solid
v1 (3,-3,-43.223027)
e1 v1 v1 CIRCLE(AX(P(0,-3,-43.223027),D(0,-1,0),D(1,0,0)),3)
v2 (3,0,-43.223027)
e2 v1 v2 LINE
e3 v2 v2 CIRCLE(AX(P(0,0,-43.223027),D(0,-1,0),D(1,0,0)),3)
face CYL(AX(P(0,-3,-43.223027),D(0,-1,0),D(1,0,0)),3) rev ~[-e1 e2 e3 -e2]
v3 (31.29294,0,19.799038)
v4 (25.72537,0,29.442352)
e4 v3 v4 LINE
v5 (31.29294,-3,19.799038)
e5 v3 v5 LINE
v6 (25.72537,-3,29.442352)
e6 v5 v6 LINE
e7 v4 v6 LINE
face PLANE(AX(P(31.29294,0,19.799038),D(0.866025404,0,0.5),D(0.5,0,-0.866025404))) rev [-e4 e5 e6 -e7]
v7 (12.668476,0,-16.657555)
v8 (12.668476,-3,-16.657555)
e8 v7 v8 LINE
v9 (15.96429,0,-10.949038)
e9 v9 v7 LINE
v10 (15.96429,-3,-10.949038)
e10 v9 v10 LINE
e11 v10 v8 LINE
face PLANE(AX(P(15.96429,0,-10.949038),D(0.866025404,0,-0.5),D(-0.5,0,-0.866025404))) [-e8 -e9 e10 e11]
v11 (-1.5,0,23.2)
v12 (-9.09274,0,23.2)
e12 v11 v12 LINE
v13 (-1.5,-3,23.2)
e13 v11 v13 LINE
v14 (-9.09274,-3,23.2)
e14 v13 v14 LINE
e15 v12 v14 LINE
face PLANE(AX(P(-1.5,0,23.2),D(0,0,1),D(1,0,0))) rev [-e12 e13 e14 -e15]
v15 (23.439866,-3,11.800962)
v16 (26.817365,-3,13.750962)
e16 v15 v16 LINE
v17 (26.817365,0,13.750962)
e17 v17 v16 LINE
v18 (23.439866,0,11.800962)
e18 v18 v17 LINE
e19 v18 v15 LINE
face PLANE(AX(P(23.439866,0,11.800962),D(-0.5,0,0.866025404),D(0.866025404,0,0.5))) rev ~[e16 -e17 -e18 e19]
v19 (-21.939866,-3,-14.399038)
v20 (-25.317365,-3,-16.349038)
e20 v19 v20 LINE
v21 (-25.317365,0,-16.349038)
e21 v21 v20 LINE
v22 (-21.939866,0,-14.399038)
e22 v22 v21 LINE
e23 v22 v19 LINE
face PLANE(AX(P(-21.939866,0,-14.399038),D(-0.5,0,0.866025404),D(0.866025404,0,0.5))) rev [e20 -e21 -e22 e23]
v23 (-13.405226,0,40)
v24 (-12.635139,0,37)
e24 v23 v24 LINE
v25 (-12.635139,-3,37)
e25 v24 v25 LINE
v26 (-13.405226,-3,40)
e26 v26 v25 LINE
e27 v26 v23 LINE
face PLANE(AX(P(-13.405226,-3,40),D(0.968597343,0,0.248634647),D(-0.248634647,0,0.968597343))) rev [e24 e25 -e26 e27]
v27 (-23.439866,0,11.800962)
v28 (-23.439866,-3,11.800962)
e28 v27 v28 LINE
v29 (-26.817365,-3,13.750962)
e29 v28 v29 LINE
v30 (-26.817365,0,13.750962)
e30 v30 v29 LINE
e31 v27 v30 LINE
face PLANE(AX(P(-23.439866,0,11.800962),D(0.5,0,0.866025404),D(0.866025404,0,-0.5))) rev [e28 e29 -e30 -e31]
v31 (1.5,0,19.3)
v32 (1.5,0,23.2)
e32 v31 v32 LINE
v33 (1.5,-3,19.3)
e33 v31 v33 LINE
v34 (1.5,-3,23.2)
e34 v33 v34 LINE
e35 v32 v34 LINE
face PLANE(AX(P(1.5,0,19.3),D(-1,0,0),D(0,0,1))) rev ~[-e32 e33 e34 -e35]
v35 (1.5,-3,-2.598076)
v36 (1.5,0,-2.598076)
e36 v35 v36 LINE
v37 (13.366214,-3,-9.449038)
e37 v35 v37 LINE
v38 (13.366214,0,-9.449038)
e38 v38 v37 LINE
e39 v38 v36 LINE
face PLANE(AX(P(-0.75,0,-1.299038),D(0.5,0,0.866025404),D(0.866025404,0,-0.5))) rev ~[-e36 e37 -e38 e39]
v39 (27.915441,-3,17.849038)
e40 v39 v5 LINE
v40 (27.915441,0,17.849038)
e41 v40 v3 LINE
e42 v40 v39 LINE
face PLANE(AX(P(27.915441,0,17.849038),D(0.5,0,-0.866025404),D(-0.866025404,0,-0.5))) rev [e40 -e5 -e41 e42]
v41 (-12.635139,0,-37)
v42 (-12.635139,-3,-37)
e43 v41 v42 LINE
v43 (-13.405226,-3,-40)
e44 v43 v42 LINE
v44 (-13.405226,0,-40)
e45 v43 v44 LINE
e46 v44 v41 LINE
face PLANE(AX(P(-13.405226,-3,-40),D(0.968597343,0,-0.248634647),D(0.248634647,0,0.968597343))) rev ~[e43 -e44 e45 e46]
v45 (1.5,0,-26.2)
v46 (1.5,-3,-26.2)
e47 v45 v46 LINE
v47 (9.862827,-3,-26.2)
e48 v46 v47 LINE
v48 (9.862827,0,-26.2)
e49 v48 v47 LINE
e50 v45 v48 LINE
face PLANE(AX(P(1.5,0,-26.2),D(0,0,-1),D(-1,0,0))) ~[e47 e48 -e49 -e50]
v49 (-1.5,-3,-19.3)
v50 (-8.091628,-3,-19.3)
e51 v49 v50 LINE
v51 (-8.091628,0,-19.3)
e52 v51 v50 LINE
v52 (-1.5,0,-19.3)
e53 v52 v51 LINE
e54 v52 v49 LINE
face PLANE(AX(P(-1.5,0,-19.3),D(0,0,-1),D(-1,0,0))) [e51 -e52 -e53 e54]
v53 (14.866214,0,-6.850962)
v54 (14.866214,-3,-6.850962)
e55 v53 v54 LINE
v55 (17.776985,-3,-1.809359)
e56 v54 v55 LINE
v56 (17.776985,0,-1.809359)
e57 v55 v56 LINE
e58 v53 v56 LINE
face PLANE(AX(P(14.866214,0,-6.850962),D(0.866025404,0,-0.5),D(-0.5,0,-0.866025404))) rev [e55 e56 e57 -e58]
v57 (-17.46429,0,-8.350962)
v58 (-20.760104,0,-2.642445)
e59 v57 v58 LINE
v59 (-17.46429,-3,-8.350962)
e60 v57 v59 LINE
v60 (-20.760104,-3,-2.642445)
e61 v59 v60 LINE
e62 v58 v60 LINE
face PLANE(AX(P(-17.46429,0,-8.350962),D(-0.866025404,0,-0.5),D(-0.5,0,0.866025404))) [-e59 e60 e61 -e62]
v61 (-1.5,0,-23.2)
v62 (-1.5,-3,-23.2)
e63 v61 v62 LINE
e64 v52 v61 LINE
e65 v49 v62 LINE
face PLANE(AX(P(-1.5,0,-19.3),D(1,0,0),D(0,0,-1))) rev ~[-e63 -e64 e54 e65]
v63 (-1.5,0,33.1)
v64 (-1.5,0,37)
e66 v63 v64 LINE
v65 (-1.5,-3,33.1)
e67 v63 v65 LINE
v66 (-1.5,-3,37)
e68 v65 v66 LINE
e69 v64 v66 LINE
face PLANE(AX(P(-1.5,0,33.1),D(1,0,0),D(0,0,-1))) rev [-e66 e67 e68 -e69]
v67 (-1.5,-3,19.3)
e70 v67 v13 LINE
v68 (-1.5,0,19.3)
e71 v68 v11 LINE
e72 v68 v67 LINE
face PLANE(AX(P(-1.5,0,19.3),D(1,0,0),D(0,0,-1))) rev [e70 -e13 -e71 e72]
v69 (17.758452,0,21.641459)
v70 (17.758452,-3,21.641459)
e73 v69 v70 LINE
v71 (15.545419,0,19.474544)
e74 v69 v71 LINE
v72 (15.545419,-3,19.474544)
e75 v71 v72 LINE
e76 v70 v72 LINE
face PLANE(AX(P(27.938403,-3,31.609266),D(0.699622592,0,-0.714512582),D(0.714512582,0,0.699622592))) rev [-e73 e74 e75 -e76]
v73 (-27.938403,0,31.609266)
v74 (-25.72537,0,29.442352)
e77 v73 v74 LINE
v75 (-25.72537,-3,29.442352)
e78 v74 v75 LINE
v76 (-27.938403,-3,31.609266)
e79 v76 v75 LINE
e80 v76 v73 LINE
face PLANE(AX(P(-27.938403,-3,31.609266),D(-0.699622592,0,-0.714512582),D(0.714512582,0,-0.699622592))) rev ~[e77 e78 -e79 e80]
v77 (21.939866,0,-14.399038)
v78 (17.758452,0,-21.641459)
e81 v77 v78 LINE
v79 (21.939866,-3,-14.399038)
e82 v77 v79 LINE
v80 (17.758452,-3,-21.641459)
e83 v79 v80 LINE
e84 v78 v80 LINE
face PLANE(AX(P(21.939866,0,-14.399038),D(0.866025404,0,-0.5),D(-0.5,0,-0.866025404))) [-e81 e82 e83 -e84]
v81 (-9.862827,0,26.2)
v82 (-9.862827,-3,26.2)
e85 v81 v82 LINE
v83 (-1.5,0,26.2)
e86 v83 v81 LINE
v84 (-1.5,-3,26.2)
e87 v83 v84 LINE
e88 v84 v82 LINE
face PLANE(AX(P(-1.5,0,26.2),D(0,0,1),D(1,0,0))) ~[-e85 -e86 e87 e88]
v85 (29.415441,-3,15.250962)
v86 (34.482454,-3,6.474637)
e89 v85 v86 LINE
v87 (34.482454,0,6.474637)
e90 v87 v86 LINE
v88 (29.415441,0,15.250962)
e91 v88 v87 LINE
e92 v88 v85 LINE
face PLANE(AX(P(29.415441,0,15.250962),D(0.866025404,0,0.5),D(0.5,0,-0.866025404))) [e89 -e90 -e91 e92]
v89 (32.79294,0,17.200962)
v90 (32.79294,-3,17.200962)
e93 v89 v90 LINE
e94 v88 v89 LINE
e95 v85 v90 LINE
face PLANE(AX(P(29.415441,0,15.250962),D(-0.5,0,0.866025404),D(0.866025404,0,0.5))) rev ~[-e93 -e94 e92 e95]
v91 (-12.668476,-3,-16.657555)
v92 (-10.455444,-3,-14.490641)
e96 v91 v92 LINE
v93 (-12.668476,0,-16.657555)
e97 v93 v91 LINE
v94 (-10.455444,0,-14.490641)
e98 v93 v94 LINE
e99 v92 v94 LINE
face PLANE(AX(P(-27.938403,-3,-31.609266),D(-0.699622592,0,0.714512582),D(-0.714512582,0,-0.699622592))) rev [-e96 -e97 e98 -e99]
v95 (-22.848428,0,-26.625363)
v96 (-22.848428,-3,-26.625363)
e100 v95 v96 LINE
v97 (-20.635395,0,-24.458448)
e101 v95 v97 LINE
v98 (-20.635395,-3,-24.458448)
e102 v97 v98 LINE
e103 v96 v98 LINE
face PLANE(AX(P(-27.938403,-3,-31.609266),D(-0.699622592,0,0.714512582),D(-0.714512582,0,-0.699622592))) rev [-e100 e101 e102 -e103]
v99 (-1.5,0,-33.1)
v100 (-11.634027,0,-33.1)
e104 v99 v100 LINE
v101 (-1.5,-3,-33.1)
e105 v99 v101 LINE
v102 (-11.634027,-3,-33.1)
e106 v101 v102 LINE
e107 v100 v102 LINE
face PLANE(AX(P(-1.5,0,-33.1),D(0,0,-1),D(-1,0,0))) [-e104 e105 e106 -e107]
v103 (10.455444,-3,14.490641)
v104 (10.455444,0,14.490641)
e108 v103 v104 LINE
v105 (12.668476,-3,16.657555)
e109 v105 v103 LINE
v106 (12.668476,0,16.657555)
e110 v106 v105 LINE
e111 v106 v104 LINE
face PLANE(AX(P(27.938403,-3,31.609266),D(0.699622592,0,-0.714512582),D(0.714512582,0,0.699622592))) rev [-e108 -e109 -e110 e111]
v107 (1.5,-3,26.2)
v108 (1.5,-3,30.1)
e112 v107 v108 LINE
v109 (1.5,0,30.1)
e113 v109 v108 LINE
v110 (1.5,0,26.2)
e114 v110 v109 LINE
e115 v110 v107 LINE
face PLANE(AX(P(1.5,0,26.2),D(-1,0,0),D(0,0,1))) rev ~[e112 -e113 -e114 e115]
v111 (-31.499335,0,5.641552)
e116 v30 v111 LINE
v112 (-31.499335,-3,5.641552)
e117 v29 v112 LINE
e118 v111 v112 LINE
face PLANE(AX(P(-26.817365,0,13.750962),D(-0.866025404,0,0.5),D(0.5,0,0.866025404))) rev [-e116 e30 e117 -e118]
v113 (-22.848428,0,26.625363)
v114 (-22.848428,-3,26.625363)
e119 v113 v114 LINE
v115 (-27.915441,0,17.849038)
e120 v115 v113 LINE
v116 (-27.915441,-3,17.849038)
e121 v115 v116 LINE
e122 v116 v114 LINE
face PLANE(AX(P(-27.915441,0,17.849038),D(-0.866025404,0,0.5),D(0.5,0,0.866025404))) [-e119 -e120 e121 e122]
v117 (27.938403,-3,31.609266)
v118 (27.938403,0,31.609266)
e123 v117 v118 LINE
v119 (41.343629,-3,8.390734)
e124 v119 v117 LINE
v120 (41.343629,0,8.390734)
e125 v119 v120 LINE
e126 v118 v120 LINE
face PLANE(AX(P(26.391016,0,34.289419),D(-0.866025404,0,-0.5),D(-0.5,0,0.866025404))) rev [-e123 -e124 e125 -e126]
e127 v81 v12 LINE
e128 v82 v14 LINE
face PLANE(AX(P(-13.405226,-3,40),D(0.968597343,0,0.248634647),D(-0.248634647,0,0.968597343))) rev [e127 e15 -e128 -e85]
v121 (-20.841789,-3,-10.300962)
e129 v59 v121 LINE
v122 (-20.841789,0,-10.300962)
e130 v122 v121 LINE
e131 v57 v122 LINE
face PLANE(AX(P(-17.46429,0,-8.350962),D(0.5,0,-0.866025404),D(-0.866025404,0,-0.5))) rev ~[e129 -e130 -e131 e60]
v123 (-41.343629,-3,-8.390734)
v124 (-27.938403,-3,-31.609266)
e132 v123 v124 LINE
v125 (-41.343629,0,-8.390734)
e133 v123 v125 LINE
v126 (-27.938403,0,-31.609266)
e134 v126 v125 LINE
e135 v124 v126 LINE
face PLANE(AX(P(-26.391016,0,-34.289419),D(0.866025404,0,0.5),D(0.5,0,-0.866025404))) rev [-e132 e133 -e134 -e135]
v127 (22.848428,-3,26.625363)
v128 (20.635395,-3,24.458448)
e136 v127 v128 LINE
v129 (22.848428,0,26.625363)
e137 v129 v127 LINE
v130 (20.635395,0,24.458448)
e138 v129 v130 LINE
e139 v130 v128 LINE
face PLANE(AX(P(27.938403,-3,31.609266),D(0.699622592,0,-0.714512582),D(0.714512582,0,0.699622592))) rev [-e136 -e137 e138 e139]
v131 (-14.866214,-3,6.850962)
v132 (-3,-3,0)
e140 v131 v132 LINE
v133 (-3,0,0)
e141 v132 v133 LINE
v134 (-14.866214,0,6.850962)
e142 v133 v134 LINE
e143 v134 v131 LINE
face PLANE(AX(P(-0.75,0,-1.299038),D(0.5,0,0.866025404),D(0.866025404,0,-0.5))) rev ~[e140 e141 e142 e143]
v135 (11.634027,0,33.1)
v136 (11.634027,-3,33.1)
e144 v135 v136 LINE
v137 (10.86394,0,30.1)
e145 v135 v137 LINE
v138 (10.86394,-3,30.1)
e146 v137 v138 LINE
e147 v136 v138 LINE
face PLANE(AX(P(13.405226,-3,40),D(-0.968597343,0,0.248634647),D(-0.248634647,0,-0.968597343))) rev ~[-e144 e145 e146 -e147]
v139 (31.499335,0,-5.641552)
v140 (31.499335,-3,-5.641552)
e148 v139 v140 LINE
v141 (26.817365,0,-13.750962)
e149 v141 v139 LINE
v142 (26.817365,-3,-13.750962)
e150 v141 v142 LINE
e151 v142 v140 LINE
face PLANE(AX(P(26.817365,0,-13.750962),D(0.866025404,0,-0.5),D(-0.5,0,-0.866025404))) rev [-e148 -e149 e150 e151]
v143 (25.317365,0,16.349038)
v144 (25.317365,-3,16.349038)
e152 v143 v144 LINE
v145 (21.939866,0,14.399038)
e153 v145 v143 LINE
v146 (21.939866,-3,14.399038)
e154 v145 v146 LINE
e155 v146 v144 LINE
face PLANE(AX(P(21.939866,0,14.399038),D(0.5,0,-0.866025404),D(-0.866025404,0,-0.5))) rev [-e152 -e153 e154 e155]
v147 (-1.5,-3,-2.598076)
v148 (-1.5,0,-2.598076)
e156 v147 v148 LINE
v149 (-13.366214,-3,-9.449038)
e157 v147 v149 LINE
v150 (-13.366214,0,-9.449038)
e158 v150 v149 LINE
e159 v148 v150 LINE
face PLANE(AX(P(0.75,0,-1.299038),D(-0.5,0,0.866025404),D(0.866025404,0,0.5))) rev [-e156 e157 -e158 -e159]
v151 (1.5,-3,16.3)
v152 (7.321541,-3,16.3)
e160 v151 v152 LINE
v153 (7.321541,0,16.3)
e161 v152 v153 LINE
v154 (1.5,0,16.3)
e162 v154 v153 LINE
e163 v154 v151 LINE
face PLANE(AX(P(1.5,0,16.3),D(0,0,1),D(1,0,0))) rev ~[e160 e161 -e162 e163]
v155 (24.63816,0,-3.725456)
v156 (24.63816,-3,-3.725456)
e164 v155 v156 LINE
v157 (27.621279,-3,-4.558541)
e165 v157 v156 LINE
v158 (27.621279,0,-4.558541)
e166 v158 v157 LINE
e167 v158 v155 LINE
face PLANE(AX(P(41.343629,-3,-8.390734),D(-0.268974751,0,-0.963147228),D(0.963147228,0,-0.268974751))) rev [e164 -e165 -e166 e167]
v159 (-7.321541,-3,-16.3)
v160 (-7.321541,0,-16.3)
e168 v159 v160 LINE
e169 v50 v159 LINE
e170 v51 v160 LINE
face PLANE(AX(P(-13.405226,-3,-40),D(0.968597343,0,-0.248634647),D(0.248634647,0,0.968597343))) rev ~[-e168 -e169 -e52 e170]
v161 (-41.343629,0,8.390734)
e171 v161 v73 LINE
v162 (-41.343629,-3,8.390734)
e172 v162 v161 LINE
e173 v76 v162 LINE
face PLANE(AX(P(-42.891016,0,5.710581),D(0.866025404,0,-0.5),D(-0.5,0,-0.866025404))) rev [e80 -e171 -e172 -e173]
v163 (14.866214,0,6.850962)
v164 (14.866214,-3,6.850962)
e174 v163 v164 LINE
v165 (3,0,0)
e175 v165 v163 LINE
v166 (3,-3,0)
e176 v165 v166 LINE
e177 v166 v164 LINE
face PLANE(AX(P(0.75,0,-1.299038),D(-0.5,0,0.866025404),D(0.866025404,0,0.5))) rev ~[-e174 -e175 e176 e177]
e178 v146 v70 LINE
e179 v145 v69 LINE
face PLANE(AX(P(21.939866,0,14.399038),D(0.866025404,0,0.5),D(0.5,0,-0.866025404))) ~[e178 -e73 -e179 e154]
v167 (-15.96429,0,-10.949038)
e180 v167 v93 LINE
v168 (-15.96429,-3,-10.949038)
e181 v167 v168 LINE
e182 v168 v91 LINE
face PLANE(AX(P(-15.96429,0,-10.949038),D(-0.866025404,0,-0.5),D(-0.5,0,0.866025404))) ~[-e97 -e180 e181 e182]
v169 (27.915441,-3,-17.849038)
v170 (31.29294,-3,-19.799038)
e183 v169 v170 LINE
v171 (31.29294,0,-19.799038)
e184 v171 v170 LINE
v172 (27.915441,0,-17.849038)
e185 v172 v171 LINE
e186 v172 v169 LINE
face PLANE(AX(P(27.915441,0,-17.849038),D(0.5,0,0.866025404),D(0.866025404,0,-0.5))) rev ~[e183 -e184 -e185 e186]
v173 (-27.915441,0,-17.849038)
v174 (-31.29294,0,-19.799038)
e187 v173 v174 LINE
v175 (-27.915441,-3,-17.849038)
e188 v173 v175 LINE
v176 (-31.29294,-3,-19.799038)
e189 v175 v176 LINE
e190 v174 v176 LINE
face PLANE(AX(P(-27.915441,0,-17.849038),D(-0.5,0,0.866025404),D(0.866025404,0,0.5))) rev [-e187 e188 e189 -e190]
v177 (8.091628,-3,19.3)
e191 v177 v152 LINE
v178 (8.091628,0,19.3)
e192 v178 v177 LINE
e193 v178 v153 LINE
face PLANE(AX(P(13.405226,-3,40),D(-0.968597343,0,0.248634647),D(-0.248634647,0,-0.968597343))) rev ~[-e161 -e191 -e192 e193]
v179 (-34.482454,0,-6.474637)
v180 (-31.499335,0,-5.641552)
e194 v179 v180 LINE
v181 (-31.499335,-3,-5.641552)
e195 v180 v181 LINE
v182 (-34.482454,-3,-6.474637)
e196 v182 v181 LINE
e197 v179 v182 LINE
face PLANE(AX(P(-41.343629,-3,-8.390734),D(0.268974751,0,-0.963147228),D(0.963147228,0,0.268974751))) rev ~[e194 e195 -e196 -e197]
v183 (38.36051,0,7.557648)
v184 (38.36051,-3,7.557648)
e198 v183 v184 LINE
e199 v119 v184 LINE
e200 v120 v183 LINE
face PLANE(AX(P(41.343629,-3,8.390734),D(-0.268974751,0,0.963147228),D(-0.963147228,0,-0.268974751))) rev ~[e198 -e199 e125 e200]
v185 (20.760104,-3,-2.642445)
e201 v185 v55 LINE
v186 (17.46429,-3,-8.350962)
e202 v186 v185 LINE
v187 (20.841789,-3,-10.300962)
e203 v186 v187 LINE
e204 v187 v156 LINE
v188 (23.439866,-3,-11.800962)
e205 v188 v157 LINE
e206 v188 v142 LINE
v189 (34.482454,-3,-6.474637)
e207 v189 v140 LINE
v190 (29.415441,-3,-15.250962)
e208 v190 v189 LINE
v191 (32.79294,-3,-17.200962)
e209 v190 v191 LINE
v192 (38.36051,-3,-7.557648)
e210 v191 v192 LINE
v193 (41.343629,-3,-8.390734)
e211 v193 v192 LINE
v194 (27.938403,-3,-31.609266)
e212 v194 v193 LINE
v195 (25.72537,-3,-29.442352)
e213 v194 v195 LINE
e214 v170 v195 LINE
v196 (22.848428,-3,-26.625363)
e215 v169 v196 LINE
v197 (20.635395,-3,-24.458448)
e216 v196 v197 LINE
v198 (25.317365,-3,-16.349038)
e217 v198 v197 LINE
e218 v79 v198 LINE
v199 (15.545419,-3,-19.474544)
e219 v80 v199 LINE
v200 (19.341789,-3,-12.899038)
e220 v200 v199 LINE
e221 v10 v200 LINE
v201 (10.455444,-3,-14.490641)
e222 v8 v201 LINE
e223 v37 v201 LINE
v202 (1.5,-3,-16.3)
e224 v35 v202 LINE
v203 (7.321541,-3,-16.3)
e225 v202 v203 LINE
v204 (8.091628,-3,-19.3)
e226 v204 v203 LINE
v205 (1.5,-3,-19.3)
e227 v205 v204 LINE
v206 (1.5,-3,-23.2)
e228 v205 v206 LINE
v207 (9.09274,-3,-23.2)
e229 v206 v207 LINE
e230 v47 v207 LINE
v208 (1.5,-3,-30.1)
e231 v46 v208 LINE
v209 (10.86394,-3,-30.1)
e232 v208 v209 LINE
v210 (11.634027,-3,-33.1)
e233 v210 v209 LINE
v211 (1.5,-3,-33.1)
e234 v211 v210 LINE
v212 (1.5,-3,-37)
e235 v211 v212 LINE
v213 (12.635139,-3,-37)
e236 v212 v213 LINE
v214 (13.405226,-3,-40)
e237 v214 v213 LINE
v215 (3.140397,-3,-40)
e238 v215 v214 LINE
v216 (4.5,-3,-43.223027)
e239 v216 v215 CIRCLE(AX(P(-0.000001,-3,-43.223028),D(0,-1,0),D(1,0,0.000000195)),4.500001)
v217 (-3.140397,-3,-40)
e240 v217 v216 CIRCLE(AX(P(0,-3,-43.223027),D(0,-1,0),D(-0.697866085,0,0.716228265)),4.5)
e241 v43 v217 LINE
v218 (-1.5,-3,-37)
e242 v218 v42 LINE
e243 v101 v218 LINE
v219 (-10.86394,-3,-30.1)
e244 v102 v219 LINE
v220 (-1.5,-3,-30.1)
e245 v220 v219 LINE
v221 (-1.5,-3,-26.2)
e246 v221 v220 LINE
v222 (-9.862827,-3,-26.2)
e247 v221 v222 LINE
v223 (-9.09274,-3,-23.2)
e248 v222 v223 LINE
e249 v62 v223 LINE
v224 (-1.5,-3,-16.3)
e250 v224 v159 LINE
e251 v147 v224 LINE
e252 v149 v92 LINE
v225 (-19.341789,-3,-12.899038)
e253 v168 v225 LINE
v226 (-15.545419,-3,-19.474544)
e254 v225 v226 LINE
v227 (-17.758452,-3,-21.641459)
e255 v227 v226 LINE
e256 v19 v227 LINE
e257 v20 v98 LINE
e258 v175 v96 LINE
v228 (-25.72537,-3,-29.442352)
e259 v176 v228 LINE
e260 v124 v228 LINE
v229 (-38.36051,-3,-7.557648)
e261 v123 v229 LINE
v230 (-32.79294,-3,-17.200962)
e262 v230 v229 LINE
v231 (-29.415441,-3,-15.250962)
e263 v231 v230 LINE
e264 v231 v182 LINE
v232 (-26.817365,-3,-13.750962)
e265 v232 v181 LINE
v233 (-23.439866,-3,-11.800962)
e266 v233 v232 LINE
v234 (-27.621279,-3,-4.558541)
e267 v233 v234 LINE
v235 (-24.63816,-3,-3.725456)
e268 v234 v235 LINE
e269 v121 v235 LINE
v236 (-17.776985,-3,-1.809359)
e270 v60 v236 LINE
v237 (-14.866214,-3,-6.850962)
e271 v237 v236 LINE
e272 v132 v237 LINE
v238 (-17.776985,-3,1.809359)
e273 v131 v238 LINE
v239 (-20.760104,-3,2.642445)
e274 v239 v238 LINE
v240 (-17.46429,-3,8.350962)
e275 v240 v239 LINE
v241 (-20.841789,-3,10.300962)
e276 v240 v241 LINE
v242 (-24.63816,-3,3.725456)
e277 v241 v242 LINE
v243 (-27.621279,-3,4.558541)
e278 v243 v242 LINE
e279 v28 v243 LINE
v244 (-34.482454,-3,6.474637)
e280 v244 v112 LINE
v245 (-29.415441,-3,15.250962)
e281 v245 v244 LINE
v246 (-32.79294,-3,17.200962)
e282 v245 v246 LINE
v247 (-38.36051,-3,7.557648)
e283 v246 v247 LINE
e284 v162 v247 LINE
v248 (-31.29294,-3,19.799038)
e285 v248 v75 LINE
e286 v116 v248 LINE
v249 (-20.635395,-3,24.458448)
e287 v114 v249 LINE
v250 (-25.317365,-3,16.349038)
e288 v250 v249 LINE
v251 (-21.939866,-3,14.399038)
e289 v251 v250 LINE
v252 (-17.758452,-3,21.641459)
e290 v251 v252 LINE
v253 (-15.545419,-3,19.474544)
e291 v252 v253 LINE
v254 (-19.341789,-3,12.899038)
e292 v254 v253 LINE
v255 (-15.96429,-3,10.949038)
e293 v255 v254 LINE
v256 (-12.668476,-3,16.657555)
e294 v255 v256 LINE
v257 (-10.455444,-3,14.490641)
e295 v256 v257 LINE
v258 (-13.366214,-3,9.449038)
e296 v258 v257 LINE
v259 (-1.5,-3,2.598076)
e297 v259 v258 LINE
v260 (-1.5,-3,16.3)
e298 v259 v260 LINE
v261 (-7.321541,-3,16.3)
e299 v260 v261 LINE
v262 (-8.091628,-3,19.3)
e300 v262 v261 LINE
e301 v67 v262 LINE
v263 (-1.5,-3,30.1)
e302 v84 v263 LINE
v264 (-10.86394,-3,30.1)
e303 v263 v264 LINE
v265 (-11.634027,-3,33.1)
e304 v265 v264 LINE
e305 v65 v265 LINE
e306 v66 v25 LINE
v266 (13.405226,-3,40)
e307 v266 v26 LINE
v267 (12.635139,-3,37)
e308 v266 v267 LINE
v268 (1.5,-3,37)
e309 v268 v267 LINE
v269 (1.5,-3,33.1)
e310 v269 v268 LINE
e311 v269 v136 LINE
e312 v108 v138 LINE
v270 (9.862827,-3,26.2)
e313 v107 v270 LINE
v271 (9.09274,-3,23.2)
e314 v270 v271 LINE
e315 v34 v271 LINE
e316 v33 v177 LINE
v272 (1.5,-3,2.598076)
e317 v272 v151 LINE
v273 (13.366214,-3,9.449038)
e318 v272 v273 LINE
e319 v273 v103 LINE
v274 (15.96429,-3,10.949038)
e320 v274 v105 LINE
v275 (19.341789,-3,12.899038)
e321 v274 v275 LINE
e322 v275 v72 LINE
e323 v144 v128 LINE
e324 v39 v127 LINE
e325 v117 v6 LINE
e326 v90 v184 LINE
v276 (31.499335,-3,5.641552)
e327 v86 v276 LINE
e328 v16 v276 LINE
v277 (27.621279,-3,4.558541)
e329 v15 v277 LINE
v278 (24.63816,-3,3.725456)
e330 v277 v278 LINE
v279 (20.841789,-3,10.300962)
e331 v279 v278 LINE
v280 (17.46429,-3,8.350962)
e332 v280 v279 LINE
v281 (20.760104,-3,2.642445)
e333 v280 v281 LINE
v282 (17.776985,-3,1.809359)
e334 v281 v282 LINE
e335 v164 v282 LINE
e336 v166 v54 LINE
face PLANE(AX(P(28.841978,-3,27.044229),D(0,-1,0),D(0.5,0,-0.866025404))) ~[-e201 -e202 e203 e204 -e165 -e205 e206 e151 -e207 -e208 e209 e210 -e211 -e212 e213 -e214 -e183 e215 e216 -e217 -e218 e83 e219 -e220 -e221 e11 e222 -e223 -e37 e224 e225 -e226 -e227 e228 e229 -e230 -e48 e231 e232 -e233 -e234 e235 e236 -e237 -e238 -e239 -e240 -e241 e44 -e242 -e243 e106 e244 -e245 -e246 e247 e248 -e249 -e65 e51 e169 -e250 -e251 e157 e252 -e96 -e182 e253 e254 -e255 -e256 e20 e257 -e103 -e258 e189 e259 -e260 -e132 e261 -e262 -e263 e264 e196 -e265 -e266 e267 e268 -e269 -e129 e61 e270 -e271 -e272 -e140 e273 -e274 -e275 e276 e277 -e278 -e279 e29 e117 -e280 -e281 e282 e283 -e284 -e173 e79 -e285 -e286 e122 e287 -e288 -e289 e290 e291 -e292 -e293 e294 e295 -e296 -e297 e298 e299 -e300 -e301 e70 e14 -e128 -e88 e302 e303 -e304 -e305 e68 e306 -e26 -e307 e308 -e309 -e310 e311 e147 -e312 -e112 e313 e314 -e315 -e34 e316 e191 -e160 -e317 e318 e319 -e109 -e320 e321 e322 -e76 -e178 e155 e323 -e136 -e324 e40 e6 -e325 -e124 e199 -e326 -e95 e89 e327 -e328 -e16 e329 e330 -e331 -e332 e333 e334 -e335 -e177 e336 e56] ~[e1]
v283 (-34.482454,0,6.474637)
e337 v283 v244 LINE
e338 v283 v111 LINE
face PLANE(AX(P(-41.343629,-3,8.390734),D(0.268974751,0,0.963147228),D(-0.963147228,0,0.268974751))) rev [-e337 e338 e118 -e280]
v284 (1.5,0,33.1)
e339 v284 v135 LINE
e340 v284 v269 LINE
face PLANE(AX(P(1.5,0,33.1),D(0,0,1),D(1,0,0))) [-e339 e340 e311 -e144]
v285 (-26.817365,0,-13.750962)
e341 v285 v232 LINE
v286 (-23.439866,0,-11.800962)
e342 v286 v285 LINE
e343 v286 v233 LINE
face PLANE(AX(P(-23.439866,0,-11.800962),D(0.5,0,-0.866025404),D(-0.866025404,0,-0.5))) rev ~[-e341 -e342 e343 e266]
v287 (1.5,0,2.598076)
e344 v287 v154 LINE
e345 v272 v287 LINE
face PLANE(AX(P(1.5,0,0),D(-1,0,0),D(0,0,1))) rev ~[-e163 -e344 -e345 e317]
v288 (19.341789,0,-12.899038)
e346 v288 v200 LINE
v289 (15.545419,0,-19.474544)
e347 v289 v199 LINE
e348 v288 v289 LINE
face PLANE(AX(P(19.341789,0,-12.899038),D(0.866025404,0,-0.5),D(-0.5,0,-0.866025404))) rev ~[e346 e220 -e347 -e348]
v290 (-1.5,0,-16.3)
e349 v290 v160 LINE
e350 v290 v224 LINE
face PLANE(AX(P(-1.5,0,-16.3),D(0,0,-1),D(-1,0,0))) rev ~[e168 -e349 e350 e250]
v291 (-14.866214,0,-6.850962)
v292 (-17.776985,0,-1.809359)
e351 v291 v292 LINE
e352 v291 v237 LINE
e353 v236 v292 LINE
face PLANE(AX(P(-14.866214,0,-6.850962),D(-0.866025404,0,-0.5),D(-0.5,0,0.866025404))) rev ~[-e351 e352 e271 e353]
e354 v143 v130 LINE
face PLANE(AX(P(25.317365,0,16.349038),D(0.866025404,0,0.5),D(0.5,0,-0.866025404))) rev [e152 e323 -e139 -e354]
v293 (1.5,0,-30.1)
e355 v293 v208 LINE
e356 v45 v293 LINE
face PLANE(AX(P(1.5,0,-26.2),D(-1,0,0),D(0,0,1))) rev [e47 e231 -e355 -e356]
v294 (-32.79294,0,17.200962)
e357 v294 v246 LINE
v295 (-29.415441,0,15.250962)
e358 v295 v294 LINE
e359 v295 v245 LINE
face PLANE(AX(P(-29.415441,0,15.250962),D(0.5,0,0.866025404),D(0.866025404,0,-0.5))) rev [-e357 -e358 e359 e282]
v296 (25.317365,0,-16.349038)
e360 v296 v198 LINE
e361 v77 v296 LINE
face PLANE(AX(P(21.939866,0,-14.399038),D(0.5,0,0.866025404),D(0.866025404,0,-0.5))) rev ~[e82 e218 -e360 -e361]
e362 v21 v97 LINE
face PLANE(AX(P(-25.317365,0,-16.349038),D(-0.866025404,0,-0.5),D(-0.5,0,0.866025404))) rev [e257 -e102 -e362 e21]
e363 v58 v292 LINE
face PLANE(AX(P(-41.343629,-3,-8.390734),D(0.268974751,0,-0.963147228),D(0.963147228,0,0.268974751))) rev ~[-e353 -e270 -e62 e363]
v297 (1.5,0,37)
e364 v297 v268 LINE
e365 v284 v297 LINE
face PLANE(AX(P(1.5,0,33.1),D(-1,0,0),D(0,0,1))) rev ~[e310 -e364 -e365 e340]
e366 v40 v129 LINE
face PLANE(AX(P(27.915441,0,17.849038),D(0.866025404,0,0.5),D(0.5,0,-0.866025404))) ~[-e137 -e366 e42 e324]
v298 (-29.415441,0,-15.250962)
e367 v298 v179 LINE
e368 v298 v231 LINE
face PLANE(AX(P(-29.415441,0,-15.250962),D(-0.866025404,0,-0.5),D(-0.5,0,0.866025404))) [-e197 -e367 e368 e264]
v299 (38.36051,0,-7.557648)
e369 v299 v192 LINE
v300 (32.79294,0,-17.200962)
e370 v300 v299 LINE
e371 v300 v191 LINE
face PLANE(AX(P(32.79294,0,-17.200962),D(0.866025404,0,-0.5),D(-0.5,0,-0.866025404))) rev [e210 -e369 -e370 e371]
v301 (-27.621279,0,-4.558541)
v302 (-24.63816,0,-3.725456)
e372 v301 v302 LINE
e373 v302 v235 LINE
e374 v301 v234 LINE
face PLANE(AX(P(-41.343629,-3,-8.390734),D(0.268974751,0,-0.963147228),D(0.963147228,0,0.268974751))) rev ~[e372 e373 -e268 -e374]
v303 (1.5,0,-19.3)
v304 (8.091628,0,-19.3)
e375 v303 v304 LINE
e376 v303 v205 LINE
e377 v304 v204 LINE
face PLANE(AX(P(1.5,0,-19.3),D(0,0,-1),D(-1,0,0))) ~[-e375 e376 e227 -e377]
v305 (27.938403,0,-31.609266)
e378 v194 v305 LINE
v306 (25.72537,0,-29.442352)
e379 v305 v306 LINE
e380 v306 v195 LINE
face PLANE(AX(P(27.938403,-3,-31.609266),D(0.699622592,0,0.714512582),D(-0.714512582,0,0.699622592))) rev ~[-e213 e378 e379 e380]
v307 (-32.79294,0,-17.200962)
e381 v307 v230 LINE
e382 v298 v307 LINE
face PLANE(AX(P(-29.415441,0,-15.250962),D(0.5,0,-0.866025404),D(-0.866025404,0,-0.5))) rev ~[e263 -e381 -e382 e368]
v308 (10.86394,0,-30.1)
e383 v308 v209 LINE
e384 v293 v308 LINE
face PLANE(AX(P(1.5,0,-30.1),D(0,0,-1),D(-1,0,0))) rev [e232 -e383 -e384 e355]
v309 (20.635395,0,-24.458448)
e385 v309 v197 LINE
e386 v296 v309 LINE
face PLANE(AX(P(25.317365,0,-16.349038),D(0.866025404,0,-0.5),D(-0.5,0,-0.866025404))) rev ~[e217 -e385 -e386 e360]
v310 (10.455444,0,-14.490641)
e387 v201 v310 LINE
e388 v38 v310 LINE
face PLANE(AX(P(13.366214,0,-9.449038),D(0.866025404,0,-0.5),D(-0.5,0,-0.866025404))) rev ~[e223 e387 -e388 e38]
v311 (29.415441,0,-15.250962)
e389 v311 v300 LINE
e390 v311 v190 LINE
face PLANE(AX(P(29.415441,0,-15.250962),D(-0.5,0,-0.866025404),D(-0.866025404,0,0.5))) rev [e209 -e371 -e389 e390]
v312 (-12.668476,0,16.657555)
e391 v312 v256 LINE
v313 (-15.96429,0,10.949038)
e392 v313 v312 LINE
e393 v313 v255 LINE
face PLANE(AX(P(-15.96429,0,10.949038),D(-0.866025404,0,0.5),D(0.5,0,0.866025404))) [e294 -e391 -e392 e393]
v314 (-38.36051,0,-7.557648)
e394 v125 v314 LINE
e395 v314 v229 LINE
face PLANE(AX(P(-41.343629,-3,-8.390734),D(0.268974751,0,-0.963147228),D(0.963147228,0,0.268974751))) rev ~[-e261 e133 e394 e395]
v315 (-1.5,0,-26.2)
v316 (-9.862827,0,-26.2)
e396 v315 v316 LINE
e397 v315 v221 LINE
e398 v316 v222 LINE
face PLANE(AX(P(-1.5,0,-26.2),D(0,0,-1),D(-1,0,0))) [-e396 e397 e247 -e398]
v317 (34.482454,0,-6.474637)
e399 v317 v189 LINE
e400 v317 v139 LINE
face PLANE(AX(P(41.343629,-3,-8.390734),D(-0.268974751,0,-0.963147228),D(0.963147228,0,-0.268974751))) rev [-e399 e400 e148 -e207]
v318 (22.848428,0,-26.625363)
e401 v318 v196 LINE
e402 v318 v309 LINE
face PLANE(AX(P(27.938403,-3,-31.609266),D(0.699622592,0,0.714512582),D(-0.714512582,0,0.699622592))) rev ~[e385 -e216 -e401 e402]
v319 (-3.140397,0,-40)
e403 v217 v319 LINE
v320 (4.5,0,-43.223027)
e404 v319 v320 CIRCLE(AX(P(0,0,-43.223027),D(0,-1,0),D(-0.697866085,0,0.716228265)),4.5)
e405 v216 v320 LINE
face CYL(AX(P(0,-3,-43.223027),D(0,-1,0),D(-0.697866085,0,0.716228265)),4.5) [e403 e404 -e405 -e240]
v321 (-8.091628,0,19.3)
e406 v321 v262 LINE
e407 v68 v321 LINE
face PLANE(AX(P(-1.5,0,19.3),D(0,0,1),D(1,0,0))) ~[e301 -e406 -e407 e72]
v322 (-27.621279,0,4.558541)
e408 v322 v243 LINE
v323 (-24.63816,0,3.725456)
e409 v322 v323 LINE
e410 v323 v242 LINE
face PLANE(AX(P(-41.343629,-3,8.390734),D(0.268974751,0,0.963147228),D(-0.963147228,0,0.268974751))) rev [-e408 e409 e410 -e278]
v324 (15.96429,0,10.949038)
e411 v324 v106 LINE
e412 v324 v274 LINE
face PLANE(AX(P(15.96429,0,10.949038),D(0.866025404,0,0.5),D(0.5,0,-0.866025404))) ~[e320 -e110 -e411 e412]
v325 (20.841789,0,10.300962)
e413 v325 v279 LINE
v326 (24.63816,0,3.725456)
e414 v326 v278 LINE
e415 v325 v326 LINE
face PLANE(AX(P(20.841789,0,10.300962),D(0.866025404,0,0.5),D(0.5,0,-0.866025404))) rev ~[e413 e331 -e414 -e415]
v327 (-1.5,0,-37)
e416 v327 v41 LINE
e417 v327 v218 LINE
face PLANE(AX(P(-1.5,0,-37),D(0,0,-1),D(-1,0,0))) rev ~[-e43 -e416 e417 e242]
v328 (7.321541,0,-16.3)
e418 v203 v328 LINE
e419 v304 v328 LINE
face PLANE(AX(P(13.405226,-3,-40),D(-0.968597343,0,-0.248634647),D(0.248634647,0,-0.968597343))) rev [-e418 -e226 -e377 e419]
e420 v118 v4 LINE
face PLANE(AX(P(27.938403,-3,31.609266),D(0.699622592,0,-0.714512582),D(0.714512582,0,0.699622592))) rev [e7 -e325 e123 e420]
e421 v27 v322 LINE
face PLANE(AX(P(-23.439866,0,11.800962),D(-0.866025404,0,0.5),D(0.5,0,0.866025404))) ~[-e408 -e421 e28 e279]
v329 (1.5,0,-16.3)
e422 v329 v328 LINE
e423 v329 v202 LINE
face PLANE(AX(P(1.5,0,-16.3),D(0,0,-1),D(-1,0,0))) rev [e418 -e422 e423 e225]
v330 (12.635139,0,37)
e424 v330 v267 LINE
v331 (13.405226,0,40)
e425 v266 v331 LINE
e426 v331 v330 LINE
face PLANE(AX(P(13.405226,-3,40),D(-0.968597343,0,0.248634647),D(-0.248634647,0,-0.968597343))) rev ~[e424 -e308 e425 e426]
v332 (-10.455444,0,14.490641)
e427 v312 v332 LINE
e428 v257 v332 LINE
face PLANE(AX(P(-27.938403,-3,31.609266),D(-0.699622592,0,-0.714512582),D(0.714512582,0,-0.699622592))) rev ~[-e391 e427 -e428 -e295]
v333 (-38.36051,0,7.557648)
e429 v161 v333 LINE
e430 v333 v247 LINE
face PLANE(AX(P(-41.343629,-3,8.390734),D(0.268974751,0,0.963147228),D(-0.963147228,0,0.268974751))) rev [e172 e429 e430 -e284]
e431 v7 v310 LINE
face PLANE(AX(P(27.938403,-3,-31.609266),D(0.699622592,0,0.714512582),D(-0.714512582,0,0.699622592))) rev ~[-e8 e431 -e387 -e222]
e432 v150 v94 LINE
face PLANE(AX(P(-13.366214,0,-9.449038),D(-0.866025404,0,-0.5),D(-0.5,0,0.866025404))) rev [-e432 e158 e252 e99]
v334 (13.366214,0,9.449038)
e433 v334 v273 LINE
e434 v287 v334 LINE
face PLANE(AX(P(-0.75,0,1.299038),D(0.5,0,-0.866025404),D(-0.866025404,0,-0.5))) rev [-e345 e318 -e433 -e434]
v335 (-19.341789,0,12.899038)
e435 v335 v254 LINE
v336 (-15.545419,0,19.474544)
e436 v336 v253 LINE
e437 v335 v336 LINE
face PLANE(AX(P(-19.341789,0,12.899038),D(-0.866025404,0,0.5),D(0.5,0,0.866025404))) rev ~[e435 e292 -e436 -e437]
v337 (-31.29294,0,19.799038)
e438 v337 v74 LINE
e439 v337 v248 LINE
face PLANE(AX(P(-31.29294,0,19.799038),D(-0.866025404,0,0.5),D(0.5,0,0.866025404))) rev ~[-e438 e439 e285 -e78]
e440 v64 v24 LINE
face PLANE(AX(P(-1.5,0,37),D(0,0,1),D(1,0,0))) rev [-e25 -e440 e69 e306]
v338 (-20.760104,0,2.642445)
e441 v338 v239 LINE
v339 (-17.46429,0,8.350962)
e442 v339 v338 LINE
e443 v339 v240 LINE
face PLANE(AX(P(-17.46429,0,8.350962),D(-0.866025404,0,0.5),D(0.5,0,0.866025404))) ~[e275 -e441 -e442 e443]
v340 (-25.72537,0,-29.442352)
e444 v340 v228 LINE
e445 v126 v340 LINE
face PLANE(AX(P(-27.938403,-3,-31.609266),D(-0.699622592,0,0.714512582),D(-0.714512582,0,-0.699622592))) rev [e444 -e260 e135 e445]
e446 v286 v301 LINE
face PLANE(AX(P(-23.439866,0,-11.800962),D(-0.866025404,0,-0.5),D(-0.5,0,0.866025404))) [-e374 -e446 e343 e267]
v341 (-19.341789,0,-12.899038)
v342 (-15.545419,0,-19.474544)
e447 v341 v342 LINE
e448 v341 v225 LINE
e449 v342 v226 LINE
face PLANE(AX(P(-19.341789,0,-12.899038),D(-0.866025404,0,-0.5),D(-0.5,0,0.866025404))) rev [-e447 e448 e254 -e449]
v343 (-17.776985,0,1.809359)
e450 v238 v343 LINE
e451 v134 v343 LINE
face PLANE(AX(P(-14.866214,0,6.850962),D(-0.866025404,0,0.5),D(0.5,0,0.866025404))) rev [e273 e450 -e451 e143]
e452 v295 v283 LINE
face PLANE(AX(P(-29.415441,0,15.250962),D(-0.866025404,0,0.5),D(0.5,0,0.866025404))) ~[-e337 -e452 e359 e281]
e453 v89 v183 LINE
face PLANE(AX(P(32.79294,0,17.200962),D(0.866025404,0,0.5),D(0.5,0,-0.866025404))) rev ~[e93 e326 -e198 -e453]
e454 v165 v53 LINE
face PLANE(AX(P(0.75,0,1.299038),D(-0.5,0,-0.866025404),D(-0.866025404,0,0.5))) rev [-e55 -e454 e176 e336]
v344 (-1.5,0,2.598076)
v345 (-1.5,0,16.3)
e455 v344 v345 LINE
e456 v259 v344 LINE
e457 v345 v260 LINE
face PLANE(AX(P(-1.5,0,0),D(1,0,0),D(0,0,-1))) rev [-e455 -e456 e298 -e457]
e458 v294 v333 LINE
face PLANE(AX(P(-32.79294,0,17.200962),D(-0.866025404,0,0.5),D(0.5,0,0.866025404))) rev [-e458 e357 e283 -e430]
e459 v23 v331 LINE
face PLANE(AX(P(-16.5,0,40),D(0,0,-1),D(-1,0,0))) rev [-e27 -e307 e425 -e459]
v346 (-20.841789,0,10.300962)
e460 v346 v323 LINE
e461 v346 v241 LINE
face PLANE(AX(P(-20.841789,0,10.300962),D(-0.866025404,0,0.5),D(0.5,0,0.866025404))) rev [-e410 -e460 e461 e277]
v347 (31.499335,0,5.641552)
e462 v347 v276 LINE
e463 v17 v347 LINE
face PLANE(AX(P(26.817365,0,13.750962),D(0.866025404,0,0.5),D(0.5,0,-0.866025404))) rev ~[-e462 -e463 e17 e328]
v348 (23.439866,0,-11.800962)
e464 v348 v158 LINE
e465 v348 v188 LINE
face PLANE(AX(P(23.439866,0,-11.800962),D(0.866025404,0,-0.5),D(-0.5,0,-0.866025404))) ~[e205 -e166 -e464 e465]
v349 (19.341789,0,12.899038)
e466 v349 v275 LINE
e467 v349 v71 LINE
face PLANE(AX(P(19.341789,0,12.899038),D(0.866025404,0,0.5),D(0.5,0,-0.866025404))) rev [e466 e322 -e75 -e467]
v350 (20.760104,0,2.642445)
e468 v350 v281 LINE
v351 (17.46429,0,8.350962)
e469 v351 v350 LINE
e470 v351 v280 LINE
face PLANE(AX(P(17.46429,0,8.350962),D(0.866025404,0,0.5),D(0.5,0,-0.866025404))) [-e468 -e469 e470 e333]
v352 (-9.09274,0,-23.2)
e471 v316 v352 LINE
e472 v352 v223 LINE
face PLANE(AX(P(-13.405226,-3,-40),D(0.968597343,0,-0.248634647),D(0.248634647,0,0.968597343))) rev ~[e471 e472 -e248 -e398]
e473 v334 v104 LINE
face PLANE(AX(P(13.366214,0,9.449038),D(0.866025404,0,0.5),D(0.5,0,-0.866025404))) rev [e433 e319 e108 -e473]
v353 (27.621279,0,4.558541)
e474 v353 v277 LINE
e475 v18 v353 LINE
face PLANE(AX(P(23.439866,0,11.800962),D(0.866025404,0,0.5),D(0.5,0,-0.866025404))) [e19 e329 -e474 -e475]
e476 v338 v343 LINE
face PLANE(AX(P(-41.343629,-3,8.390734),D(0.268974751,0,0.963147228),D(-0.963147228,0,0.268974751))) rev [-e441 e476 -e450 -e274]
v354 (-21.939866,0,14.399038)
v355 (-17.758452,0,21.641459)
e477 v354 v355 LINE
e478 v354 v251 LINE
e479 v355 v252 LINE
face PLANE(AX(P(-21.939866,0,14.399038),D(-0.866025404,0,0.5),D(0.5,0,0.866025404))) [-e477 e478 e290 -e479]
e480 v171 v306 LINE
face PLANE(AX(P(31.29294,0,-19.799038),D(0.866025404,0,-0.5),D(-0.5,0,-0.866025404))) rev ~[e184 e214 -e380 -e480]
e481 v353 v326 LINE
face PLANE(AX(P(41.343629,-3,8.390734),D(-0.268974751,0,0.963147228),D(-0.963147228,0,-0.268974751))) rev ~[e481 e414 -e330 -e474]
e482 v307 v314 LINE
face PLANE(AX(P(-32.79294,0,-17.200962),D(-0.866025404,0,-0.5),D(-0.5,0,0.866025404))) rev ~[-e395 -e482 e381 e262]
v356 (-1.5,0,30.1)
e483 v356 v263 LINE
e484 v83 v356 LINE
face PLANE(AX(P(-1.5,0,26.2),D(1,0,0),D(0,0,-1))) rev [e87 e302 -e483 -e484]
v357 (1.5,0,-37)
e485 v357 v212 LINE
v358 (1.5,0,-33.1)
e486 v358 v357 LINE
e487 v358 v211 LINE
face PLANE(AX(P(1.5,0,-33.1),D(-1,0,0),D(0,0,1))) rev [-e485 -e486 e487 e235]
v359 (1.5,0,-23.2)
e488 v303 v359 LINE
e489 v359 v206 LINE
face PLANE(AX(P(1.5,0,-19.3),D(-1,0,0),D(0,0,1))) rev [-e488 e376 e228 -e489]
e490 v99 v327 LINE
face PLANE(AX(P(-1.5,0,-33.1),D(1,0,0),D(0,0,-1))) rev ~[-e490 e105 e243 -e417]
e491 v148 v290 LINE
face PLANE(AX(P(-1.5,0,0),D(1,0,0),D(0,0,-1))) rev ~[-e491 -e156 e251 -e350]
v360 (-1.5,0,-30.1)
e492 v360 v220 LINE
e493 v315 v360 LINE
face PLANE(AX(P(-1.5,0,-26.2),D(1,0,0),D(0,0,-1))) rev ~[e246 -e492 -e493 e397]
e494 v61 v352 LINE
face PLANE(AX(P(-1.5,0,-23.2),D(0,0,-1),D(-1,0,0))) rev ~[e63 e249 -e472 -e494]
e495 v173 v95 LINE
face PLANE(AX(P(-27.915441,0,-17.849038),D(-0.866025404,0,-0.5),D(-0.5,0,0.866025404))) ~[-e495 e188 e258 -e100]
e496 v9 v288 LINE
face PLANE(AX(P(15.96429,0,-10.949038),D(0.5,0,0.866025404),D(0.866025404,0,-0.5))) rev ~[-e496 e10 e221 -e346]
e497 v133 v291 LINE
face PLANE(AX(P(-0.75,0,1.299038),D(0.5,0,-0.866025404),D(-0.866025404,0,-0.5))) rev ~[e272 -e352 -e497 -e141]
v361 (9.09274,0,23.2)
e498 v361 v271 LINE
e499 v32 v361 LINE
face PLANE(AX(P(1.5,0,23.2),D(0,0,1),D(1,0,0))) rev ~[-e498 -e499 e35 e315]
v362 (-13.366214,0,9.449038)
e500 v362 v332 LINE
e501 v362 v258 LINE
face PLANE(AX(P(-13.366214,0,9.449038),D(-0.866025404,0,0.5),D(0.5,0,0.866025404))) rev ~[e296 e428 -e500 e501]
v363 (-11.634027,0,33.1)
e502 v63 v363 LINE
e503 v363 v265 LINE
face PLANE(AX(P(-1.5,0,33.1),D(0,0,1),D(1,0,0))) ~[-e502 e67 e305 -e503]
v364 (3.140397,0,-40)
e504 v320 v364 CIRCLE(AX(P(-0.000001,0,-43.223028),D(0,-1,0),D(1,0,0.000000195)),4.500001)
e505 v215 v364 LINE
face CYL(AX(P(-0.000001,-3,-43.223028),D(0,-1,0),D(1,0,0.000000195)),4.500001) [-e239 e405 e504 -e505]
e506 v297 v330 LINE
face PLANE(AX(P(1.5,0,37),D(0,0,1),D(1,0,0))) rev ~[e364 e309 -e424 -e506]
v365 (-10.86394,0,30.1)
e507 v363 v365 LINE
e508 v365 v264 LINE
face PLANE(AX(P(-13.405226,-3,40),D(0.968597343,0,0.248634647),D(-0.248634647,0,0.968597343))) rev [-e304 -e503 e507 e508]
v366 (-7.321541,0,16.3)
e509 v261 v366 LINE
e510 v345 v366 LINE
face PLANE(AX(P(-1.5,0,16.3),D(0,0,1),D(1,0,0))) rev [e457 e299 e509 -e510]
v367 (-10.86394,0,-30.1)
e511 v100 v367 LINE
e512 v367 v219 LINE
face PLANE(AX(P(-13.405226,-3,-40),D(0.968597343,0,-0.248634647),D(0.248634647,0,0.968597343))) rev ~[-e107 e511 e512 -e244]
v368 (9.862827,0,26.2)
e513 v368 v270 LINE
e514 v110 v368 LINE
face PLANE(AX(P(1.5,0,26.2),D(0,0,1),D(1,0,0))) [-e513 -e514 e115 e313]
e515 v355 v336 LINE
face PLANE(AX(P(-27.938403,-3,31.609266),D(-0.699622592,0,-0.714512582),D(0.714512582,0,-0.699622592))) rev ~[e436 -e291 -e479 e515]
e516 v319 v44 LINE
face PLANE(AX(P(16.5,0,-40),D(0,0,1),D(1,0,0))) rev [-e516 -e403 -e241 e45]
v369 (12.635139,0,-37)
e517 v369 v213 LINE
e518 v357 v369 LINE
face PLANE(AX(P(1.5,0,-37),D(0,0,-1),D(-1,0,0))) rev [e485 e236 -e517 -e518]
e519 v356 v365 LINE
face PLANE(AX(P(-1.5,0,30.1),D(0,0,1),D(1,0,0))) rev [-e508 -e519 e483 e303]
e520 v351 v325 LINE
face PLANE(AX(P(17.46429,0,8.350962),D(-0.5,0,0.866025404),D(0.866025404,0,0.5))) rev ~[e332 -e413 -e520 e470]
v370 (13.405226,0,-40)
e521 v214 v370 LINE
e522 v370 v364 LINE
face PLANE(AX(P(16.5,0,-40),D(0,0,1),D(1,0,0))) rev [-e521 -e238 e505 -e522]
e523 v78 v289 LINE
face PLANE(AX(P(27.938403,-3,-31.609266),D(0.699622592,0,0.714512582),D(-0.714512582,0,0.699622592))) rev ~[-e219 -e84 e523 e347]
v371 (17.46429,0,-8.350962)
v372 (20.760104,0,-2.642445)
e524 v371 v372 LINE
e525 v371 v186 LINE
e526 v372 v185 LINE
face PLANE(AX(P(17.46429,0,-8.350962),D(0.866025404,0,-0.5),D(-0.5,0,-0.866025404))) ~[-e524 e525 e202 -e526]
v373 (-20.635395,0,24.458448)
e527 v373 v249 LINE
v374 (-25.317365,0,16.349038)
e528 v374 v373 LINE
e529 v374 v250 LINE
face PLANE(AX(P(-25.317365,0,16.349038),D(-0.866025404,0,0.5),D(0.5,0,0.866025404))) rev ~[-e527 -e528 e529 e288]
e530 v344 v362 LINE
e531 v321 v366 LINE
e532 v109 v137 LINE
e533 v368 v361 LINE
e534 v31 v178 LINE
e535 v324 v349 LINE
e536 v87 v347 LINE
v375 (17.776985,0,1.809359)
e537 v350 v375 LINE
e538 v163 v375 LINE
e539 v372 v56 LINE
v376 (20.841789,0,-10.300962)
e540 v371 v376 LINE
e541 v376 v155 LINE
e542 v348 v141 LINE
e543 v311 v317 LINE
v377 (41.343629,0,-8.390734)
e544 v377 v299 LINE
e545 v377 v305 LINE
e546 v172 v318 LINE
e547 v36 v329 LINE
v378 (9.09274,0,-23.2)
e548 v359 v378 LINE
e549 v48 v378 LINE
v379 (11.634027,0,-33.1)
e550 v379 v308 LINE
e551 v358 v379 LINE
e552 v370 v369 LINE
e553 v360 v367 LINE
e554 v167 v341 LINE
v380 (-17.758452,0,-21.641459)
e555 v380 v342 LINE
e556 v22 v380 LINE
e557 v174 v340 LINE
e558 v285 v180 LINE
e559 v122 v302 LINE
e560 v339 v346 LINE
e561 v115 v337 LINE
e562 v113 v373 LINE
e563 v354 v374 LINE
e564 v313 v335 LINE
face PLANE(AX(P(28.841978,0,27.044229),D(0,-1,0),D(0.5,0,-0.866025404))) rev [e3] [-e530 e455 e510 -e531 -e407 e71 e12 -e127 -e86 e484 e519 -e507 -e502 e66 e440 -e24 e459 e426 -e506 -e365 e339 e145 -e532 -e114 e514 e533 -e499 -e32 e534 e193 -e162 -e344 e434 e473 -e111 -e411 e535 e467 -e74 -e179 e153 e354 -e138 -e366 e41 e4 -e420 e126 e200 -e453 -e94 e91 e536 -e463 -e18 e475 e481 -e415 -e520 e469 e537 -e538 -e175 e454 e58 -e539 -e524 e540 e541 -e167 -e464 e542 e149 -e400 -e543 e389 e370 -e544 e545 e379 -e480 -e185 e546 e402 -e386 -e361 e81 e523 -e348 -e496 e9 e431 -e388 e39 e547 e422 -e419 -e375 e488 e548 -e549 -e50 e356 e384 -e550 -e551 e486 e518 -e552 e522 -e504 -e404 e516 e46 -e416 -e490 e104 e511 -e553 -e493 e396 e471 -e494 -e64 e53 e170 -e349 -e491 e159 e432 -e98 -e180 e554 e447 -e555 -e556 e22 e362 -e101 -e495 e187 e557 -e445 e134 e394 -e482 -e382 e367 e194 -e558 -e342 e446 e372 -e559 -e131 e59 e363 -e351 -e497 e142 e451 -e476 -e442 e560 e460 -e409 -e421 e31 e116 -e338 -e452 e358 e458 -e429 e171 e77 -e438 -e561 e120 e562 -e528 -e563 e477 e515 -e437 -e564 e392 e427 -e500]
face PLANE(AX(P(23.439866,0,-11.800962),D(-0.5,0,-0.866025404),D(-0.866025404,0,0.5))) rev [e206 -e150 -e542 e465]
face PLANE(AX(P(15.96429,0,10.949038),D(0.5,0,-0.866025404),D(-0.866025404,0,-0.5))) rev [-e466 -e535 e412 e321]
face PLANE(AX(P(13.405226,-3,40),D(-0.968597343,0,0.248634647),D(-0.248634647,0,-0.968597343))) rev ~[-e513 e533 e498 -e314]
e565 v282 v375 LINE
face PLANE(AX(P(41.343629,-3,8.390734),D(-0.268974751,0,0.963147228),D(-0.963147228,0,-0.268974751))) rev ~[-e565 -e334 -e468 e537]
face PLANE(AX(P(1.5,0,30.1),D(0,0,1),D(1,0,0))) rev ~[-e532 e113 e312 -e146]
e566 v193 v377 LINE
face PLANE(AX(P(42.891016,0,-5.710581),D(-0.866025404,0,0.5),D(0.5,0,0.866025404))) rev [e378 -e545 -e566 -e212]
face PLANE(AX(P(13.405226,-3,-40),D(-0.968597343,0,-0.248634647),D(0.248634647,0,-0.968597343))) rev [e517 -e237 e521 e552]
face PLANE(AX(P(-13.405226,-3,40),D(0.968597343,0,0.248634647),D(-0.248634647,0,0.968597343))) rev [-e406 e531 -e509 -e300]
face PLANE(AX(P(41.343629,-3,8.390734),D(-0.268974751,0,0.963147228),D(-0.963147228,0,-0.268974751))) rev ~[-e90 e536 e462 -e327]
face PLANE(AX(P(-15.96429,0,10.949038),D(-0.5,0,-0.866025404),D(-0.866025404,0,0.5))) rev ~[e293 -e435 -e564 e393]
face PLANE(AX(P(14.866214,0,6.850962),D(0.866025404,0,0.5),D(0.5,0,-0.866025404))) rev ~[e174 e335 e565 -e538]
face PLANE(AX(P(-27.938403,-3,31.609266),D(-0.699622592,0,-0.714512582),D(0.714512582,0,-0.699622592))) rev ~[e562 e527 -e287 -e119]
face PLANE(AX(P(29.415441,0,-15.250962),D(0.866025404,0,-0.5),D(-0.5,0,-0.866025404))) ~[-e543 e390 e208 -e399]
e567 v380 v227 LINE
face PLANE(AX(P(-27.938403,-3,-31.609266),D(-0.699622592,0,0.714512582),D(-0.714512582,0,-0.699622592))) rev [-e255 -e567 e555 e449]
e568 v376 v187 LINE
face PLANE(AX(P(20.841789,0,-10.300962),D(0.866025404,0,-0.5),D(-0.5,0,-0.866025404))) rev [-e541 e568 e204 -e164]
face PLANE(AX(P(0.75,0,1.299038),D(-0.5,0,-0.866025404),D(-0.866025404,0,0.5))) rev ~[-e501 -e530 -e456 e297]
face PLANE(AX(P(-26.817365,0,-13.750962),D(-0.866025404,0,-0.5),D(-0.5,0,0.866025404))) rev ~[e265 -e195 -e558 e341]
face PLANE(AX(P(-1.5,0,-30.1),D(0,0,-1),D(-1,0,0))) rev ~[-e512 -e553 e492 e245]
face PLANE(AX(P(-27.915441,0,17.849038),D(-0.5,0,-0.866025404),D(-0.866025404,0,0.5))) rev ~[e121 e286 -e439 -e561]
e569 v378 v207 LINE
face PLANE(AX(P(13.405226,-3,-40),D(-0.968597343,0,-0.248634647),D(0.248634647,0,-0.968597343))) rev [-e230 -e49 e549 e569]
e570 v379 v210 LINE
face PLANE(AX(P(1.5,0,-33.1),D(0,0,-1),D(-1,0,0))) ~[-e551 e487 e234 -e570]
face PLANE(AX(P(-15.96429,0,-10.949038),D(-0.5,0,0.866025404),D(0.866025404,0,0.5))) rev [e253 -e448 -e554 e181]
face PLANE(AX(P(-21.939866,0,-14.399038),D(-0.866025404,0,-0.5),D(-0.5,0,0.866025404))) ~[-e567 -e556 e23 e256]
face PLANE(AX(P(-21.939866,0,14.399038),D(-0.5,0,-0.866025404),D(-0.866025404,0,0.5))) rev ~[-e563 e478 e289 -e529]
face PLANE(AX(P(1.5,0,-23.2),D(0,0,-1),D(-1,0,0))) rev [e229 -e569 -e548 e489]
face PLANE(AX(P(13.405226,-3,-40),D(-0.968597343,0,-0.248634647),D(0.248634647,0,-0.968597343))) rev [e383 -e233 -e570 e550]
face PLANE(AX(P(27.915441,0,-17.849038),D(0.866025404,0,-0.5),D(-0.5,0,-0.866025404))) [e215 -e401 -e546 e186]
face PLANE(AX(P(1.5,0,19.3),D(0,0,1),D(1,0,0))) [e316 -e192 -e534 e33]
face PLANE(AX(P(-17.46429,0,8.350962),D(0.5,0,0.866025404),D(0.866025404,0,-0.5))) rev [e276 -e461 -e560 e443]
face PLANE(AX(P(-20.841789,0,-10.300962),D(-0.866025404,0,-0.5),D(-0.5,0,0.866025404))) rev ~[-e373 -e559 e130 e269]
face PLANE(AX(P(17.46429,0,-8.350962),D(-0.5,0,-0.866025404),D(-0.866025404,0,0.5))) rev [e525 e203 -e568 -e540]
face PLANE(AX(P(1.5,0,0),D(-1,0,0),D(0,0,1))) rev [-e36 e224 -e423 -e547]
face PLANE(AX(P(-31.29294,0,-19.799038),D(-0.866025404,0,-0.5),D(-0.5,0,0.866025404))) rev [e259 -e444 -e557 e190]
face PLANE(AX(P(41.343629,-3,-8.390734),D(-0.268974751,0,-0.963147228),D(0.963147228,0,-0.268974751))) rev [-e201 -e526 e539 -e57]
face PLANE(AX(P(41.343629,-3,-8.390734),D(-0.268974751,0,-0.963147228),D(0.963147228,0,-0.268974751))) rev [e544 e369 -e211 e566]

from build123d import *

# Parameters (mm, degrees)
F0_W     = 15
F0_H     = 3
F1_DEPTH = 3
F3_DEPTH = 25
F6_COUNT = 6
F8_R     = 3
F9_DEPTH = 3


with BuildPart() as f1:
    # F0 (on Front) → F1 (new body)
    with BuildSketch(Plane.XZ):
        with Locations((9, 38.5)):
            Rectangle(F0_W, F0_H)
        with Locations((9, 31.6)):
            Rectangle(F0_W, F0_H)
        with Locations((9, 24.7)):
            Rectangle(F0_W, F0_H)
        with Locations((9, 17.8)):
            Rectangle(F0_W, F0_H)
        Polygon((0, 40), (0, 0), (1.5, 0), (1.5, 16.3), (1.5, 19.3), (1.5, 23.2), (1.5, 26.2), (1.5, 30.1), (1.5, 33.1), (1.5, 37), (1.5, 40), align=None)
    extrude(amount=F1_DEPTH)

    # F2 (on face) → F3 (cut)
    with BuildSketch(Plane.XZ.offset(3)):
        Polygon((13.405226, 40), (7.321541, 16.3), (20.32141, 16.3), (16.5, 40), align=None)
    extrude(amount=-F3_DEPTH, mode=Mode.SUBTRACT)

    # F4: F1 across plane


with BuildPart() as f1_1:
    add(f1.part)
    add(f1.part.mirror(Plane.YZ))


with BuildPart() as f6_1:
    # F6: instance of F1
    add(f1_1.part.rotate(Axis((0, 13.050985, 0), (0, 1, 0)), 1 * 360 / F6_COUNT))


with BuildPart() as f6_2:
    # F6: instance of F1
    add(f1_1.part.rotate(Axis((0, 13.050985, 0), (0, 1, 0)), 2 * 360 / F6_COUNT))


with BuildPart() as f6_3:
    # F6: instance of F1
    add(f1_1.part.rotate(Axis((0, 13.050985, 0), (0, 1, 0)), 3 * 360 / F6_COUNT))


with BuildPart() as f6_4:
    # F6: instance of F1
    add(f1_1.part.rotate(Axis((0, 13.050985, 0), (0, 1, 0)), 4 * 360 / F6_COUNT))


with BuildPart() as f6_5:
    # F6: instance of F1
    add(f1_1.part.rotate(Axis((0, 13.050985, 0), (0, 1, 0)), 5 * 360 / F6_COUNT))

    # F7: union F1, F6_2, F6_3, F6_4, F6_1
    add(f1_1.part)
    add(f6_2.part)
    add(f6_3.part)
    add(f6_4.part)
    add(f6_1.part)

    # F8 (on face) → F9 (join, through all)
    with BuildSketch(Plane.XZ.offset(3)):
        with BuildLine():
            ThreePointArc((-3.140397, -40), (-1.74903, -47.369217), (4.5, -43.223027))
            ThreePointArc((4.5, -43.223027), (4.14619, -41.473997), (3.140397, -40))
            Line((3.140397, -40), (-3.140397, -40))
        make_face()
        with Locations((0, -43.223027)):
            Circle(F8_R, mode=Mode.SUBTRACT)
    extrude(amount=-F9_DEPTH)


solid = f6_5.part
